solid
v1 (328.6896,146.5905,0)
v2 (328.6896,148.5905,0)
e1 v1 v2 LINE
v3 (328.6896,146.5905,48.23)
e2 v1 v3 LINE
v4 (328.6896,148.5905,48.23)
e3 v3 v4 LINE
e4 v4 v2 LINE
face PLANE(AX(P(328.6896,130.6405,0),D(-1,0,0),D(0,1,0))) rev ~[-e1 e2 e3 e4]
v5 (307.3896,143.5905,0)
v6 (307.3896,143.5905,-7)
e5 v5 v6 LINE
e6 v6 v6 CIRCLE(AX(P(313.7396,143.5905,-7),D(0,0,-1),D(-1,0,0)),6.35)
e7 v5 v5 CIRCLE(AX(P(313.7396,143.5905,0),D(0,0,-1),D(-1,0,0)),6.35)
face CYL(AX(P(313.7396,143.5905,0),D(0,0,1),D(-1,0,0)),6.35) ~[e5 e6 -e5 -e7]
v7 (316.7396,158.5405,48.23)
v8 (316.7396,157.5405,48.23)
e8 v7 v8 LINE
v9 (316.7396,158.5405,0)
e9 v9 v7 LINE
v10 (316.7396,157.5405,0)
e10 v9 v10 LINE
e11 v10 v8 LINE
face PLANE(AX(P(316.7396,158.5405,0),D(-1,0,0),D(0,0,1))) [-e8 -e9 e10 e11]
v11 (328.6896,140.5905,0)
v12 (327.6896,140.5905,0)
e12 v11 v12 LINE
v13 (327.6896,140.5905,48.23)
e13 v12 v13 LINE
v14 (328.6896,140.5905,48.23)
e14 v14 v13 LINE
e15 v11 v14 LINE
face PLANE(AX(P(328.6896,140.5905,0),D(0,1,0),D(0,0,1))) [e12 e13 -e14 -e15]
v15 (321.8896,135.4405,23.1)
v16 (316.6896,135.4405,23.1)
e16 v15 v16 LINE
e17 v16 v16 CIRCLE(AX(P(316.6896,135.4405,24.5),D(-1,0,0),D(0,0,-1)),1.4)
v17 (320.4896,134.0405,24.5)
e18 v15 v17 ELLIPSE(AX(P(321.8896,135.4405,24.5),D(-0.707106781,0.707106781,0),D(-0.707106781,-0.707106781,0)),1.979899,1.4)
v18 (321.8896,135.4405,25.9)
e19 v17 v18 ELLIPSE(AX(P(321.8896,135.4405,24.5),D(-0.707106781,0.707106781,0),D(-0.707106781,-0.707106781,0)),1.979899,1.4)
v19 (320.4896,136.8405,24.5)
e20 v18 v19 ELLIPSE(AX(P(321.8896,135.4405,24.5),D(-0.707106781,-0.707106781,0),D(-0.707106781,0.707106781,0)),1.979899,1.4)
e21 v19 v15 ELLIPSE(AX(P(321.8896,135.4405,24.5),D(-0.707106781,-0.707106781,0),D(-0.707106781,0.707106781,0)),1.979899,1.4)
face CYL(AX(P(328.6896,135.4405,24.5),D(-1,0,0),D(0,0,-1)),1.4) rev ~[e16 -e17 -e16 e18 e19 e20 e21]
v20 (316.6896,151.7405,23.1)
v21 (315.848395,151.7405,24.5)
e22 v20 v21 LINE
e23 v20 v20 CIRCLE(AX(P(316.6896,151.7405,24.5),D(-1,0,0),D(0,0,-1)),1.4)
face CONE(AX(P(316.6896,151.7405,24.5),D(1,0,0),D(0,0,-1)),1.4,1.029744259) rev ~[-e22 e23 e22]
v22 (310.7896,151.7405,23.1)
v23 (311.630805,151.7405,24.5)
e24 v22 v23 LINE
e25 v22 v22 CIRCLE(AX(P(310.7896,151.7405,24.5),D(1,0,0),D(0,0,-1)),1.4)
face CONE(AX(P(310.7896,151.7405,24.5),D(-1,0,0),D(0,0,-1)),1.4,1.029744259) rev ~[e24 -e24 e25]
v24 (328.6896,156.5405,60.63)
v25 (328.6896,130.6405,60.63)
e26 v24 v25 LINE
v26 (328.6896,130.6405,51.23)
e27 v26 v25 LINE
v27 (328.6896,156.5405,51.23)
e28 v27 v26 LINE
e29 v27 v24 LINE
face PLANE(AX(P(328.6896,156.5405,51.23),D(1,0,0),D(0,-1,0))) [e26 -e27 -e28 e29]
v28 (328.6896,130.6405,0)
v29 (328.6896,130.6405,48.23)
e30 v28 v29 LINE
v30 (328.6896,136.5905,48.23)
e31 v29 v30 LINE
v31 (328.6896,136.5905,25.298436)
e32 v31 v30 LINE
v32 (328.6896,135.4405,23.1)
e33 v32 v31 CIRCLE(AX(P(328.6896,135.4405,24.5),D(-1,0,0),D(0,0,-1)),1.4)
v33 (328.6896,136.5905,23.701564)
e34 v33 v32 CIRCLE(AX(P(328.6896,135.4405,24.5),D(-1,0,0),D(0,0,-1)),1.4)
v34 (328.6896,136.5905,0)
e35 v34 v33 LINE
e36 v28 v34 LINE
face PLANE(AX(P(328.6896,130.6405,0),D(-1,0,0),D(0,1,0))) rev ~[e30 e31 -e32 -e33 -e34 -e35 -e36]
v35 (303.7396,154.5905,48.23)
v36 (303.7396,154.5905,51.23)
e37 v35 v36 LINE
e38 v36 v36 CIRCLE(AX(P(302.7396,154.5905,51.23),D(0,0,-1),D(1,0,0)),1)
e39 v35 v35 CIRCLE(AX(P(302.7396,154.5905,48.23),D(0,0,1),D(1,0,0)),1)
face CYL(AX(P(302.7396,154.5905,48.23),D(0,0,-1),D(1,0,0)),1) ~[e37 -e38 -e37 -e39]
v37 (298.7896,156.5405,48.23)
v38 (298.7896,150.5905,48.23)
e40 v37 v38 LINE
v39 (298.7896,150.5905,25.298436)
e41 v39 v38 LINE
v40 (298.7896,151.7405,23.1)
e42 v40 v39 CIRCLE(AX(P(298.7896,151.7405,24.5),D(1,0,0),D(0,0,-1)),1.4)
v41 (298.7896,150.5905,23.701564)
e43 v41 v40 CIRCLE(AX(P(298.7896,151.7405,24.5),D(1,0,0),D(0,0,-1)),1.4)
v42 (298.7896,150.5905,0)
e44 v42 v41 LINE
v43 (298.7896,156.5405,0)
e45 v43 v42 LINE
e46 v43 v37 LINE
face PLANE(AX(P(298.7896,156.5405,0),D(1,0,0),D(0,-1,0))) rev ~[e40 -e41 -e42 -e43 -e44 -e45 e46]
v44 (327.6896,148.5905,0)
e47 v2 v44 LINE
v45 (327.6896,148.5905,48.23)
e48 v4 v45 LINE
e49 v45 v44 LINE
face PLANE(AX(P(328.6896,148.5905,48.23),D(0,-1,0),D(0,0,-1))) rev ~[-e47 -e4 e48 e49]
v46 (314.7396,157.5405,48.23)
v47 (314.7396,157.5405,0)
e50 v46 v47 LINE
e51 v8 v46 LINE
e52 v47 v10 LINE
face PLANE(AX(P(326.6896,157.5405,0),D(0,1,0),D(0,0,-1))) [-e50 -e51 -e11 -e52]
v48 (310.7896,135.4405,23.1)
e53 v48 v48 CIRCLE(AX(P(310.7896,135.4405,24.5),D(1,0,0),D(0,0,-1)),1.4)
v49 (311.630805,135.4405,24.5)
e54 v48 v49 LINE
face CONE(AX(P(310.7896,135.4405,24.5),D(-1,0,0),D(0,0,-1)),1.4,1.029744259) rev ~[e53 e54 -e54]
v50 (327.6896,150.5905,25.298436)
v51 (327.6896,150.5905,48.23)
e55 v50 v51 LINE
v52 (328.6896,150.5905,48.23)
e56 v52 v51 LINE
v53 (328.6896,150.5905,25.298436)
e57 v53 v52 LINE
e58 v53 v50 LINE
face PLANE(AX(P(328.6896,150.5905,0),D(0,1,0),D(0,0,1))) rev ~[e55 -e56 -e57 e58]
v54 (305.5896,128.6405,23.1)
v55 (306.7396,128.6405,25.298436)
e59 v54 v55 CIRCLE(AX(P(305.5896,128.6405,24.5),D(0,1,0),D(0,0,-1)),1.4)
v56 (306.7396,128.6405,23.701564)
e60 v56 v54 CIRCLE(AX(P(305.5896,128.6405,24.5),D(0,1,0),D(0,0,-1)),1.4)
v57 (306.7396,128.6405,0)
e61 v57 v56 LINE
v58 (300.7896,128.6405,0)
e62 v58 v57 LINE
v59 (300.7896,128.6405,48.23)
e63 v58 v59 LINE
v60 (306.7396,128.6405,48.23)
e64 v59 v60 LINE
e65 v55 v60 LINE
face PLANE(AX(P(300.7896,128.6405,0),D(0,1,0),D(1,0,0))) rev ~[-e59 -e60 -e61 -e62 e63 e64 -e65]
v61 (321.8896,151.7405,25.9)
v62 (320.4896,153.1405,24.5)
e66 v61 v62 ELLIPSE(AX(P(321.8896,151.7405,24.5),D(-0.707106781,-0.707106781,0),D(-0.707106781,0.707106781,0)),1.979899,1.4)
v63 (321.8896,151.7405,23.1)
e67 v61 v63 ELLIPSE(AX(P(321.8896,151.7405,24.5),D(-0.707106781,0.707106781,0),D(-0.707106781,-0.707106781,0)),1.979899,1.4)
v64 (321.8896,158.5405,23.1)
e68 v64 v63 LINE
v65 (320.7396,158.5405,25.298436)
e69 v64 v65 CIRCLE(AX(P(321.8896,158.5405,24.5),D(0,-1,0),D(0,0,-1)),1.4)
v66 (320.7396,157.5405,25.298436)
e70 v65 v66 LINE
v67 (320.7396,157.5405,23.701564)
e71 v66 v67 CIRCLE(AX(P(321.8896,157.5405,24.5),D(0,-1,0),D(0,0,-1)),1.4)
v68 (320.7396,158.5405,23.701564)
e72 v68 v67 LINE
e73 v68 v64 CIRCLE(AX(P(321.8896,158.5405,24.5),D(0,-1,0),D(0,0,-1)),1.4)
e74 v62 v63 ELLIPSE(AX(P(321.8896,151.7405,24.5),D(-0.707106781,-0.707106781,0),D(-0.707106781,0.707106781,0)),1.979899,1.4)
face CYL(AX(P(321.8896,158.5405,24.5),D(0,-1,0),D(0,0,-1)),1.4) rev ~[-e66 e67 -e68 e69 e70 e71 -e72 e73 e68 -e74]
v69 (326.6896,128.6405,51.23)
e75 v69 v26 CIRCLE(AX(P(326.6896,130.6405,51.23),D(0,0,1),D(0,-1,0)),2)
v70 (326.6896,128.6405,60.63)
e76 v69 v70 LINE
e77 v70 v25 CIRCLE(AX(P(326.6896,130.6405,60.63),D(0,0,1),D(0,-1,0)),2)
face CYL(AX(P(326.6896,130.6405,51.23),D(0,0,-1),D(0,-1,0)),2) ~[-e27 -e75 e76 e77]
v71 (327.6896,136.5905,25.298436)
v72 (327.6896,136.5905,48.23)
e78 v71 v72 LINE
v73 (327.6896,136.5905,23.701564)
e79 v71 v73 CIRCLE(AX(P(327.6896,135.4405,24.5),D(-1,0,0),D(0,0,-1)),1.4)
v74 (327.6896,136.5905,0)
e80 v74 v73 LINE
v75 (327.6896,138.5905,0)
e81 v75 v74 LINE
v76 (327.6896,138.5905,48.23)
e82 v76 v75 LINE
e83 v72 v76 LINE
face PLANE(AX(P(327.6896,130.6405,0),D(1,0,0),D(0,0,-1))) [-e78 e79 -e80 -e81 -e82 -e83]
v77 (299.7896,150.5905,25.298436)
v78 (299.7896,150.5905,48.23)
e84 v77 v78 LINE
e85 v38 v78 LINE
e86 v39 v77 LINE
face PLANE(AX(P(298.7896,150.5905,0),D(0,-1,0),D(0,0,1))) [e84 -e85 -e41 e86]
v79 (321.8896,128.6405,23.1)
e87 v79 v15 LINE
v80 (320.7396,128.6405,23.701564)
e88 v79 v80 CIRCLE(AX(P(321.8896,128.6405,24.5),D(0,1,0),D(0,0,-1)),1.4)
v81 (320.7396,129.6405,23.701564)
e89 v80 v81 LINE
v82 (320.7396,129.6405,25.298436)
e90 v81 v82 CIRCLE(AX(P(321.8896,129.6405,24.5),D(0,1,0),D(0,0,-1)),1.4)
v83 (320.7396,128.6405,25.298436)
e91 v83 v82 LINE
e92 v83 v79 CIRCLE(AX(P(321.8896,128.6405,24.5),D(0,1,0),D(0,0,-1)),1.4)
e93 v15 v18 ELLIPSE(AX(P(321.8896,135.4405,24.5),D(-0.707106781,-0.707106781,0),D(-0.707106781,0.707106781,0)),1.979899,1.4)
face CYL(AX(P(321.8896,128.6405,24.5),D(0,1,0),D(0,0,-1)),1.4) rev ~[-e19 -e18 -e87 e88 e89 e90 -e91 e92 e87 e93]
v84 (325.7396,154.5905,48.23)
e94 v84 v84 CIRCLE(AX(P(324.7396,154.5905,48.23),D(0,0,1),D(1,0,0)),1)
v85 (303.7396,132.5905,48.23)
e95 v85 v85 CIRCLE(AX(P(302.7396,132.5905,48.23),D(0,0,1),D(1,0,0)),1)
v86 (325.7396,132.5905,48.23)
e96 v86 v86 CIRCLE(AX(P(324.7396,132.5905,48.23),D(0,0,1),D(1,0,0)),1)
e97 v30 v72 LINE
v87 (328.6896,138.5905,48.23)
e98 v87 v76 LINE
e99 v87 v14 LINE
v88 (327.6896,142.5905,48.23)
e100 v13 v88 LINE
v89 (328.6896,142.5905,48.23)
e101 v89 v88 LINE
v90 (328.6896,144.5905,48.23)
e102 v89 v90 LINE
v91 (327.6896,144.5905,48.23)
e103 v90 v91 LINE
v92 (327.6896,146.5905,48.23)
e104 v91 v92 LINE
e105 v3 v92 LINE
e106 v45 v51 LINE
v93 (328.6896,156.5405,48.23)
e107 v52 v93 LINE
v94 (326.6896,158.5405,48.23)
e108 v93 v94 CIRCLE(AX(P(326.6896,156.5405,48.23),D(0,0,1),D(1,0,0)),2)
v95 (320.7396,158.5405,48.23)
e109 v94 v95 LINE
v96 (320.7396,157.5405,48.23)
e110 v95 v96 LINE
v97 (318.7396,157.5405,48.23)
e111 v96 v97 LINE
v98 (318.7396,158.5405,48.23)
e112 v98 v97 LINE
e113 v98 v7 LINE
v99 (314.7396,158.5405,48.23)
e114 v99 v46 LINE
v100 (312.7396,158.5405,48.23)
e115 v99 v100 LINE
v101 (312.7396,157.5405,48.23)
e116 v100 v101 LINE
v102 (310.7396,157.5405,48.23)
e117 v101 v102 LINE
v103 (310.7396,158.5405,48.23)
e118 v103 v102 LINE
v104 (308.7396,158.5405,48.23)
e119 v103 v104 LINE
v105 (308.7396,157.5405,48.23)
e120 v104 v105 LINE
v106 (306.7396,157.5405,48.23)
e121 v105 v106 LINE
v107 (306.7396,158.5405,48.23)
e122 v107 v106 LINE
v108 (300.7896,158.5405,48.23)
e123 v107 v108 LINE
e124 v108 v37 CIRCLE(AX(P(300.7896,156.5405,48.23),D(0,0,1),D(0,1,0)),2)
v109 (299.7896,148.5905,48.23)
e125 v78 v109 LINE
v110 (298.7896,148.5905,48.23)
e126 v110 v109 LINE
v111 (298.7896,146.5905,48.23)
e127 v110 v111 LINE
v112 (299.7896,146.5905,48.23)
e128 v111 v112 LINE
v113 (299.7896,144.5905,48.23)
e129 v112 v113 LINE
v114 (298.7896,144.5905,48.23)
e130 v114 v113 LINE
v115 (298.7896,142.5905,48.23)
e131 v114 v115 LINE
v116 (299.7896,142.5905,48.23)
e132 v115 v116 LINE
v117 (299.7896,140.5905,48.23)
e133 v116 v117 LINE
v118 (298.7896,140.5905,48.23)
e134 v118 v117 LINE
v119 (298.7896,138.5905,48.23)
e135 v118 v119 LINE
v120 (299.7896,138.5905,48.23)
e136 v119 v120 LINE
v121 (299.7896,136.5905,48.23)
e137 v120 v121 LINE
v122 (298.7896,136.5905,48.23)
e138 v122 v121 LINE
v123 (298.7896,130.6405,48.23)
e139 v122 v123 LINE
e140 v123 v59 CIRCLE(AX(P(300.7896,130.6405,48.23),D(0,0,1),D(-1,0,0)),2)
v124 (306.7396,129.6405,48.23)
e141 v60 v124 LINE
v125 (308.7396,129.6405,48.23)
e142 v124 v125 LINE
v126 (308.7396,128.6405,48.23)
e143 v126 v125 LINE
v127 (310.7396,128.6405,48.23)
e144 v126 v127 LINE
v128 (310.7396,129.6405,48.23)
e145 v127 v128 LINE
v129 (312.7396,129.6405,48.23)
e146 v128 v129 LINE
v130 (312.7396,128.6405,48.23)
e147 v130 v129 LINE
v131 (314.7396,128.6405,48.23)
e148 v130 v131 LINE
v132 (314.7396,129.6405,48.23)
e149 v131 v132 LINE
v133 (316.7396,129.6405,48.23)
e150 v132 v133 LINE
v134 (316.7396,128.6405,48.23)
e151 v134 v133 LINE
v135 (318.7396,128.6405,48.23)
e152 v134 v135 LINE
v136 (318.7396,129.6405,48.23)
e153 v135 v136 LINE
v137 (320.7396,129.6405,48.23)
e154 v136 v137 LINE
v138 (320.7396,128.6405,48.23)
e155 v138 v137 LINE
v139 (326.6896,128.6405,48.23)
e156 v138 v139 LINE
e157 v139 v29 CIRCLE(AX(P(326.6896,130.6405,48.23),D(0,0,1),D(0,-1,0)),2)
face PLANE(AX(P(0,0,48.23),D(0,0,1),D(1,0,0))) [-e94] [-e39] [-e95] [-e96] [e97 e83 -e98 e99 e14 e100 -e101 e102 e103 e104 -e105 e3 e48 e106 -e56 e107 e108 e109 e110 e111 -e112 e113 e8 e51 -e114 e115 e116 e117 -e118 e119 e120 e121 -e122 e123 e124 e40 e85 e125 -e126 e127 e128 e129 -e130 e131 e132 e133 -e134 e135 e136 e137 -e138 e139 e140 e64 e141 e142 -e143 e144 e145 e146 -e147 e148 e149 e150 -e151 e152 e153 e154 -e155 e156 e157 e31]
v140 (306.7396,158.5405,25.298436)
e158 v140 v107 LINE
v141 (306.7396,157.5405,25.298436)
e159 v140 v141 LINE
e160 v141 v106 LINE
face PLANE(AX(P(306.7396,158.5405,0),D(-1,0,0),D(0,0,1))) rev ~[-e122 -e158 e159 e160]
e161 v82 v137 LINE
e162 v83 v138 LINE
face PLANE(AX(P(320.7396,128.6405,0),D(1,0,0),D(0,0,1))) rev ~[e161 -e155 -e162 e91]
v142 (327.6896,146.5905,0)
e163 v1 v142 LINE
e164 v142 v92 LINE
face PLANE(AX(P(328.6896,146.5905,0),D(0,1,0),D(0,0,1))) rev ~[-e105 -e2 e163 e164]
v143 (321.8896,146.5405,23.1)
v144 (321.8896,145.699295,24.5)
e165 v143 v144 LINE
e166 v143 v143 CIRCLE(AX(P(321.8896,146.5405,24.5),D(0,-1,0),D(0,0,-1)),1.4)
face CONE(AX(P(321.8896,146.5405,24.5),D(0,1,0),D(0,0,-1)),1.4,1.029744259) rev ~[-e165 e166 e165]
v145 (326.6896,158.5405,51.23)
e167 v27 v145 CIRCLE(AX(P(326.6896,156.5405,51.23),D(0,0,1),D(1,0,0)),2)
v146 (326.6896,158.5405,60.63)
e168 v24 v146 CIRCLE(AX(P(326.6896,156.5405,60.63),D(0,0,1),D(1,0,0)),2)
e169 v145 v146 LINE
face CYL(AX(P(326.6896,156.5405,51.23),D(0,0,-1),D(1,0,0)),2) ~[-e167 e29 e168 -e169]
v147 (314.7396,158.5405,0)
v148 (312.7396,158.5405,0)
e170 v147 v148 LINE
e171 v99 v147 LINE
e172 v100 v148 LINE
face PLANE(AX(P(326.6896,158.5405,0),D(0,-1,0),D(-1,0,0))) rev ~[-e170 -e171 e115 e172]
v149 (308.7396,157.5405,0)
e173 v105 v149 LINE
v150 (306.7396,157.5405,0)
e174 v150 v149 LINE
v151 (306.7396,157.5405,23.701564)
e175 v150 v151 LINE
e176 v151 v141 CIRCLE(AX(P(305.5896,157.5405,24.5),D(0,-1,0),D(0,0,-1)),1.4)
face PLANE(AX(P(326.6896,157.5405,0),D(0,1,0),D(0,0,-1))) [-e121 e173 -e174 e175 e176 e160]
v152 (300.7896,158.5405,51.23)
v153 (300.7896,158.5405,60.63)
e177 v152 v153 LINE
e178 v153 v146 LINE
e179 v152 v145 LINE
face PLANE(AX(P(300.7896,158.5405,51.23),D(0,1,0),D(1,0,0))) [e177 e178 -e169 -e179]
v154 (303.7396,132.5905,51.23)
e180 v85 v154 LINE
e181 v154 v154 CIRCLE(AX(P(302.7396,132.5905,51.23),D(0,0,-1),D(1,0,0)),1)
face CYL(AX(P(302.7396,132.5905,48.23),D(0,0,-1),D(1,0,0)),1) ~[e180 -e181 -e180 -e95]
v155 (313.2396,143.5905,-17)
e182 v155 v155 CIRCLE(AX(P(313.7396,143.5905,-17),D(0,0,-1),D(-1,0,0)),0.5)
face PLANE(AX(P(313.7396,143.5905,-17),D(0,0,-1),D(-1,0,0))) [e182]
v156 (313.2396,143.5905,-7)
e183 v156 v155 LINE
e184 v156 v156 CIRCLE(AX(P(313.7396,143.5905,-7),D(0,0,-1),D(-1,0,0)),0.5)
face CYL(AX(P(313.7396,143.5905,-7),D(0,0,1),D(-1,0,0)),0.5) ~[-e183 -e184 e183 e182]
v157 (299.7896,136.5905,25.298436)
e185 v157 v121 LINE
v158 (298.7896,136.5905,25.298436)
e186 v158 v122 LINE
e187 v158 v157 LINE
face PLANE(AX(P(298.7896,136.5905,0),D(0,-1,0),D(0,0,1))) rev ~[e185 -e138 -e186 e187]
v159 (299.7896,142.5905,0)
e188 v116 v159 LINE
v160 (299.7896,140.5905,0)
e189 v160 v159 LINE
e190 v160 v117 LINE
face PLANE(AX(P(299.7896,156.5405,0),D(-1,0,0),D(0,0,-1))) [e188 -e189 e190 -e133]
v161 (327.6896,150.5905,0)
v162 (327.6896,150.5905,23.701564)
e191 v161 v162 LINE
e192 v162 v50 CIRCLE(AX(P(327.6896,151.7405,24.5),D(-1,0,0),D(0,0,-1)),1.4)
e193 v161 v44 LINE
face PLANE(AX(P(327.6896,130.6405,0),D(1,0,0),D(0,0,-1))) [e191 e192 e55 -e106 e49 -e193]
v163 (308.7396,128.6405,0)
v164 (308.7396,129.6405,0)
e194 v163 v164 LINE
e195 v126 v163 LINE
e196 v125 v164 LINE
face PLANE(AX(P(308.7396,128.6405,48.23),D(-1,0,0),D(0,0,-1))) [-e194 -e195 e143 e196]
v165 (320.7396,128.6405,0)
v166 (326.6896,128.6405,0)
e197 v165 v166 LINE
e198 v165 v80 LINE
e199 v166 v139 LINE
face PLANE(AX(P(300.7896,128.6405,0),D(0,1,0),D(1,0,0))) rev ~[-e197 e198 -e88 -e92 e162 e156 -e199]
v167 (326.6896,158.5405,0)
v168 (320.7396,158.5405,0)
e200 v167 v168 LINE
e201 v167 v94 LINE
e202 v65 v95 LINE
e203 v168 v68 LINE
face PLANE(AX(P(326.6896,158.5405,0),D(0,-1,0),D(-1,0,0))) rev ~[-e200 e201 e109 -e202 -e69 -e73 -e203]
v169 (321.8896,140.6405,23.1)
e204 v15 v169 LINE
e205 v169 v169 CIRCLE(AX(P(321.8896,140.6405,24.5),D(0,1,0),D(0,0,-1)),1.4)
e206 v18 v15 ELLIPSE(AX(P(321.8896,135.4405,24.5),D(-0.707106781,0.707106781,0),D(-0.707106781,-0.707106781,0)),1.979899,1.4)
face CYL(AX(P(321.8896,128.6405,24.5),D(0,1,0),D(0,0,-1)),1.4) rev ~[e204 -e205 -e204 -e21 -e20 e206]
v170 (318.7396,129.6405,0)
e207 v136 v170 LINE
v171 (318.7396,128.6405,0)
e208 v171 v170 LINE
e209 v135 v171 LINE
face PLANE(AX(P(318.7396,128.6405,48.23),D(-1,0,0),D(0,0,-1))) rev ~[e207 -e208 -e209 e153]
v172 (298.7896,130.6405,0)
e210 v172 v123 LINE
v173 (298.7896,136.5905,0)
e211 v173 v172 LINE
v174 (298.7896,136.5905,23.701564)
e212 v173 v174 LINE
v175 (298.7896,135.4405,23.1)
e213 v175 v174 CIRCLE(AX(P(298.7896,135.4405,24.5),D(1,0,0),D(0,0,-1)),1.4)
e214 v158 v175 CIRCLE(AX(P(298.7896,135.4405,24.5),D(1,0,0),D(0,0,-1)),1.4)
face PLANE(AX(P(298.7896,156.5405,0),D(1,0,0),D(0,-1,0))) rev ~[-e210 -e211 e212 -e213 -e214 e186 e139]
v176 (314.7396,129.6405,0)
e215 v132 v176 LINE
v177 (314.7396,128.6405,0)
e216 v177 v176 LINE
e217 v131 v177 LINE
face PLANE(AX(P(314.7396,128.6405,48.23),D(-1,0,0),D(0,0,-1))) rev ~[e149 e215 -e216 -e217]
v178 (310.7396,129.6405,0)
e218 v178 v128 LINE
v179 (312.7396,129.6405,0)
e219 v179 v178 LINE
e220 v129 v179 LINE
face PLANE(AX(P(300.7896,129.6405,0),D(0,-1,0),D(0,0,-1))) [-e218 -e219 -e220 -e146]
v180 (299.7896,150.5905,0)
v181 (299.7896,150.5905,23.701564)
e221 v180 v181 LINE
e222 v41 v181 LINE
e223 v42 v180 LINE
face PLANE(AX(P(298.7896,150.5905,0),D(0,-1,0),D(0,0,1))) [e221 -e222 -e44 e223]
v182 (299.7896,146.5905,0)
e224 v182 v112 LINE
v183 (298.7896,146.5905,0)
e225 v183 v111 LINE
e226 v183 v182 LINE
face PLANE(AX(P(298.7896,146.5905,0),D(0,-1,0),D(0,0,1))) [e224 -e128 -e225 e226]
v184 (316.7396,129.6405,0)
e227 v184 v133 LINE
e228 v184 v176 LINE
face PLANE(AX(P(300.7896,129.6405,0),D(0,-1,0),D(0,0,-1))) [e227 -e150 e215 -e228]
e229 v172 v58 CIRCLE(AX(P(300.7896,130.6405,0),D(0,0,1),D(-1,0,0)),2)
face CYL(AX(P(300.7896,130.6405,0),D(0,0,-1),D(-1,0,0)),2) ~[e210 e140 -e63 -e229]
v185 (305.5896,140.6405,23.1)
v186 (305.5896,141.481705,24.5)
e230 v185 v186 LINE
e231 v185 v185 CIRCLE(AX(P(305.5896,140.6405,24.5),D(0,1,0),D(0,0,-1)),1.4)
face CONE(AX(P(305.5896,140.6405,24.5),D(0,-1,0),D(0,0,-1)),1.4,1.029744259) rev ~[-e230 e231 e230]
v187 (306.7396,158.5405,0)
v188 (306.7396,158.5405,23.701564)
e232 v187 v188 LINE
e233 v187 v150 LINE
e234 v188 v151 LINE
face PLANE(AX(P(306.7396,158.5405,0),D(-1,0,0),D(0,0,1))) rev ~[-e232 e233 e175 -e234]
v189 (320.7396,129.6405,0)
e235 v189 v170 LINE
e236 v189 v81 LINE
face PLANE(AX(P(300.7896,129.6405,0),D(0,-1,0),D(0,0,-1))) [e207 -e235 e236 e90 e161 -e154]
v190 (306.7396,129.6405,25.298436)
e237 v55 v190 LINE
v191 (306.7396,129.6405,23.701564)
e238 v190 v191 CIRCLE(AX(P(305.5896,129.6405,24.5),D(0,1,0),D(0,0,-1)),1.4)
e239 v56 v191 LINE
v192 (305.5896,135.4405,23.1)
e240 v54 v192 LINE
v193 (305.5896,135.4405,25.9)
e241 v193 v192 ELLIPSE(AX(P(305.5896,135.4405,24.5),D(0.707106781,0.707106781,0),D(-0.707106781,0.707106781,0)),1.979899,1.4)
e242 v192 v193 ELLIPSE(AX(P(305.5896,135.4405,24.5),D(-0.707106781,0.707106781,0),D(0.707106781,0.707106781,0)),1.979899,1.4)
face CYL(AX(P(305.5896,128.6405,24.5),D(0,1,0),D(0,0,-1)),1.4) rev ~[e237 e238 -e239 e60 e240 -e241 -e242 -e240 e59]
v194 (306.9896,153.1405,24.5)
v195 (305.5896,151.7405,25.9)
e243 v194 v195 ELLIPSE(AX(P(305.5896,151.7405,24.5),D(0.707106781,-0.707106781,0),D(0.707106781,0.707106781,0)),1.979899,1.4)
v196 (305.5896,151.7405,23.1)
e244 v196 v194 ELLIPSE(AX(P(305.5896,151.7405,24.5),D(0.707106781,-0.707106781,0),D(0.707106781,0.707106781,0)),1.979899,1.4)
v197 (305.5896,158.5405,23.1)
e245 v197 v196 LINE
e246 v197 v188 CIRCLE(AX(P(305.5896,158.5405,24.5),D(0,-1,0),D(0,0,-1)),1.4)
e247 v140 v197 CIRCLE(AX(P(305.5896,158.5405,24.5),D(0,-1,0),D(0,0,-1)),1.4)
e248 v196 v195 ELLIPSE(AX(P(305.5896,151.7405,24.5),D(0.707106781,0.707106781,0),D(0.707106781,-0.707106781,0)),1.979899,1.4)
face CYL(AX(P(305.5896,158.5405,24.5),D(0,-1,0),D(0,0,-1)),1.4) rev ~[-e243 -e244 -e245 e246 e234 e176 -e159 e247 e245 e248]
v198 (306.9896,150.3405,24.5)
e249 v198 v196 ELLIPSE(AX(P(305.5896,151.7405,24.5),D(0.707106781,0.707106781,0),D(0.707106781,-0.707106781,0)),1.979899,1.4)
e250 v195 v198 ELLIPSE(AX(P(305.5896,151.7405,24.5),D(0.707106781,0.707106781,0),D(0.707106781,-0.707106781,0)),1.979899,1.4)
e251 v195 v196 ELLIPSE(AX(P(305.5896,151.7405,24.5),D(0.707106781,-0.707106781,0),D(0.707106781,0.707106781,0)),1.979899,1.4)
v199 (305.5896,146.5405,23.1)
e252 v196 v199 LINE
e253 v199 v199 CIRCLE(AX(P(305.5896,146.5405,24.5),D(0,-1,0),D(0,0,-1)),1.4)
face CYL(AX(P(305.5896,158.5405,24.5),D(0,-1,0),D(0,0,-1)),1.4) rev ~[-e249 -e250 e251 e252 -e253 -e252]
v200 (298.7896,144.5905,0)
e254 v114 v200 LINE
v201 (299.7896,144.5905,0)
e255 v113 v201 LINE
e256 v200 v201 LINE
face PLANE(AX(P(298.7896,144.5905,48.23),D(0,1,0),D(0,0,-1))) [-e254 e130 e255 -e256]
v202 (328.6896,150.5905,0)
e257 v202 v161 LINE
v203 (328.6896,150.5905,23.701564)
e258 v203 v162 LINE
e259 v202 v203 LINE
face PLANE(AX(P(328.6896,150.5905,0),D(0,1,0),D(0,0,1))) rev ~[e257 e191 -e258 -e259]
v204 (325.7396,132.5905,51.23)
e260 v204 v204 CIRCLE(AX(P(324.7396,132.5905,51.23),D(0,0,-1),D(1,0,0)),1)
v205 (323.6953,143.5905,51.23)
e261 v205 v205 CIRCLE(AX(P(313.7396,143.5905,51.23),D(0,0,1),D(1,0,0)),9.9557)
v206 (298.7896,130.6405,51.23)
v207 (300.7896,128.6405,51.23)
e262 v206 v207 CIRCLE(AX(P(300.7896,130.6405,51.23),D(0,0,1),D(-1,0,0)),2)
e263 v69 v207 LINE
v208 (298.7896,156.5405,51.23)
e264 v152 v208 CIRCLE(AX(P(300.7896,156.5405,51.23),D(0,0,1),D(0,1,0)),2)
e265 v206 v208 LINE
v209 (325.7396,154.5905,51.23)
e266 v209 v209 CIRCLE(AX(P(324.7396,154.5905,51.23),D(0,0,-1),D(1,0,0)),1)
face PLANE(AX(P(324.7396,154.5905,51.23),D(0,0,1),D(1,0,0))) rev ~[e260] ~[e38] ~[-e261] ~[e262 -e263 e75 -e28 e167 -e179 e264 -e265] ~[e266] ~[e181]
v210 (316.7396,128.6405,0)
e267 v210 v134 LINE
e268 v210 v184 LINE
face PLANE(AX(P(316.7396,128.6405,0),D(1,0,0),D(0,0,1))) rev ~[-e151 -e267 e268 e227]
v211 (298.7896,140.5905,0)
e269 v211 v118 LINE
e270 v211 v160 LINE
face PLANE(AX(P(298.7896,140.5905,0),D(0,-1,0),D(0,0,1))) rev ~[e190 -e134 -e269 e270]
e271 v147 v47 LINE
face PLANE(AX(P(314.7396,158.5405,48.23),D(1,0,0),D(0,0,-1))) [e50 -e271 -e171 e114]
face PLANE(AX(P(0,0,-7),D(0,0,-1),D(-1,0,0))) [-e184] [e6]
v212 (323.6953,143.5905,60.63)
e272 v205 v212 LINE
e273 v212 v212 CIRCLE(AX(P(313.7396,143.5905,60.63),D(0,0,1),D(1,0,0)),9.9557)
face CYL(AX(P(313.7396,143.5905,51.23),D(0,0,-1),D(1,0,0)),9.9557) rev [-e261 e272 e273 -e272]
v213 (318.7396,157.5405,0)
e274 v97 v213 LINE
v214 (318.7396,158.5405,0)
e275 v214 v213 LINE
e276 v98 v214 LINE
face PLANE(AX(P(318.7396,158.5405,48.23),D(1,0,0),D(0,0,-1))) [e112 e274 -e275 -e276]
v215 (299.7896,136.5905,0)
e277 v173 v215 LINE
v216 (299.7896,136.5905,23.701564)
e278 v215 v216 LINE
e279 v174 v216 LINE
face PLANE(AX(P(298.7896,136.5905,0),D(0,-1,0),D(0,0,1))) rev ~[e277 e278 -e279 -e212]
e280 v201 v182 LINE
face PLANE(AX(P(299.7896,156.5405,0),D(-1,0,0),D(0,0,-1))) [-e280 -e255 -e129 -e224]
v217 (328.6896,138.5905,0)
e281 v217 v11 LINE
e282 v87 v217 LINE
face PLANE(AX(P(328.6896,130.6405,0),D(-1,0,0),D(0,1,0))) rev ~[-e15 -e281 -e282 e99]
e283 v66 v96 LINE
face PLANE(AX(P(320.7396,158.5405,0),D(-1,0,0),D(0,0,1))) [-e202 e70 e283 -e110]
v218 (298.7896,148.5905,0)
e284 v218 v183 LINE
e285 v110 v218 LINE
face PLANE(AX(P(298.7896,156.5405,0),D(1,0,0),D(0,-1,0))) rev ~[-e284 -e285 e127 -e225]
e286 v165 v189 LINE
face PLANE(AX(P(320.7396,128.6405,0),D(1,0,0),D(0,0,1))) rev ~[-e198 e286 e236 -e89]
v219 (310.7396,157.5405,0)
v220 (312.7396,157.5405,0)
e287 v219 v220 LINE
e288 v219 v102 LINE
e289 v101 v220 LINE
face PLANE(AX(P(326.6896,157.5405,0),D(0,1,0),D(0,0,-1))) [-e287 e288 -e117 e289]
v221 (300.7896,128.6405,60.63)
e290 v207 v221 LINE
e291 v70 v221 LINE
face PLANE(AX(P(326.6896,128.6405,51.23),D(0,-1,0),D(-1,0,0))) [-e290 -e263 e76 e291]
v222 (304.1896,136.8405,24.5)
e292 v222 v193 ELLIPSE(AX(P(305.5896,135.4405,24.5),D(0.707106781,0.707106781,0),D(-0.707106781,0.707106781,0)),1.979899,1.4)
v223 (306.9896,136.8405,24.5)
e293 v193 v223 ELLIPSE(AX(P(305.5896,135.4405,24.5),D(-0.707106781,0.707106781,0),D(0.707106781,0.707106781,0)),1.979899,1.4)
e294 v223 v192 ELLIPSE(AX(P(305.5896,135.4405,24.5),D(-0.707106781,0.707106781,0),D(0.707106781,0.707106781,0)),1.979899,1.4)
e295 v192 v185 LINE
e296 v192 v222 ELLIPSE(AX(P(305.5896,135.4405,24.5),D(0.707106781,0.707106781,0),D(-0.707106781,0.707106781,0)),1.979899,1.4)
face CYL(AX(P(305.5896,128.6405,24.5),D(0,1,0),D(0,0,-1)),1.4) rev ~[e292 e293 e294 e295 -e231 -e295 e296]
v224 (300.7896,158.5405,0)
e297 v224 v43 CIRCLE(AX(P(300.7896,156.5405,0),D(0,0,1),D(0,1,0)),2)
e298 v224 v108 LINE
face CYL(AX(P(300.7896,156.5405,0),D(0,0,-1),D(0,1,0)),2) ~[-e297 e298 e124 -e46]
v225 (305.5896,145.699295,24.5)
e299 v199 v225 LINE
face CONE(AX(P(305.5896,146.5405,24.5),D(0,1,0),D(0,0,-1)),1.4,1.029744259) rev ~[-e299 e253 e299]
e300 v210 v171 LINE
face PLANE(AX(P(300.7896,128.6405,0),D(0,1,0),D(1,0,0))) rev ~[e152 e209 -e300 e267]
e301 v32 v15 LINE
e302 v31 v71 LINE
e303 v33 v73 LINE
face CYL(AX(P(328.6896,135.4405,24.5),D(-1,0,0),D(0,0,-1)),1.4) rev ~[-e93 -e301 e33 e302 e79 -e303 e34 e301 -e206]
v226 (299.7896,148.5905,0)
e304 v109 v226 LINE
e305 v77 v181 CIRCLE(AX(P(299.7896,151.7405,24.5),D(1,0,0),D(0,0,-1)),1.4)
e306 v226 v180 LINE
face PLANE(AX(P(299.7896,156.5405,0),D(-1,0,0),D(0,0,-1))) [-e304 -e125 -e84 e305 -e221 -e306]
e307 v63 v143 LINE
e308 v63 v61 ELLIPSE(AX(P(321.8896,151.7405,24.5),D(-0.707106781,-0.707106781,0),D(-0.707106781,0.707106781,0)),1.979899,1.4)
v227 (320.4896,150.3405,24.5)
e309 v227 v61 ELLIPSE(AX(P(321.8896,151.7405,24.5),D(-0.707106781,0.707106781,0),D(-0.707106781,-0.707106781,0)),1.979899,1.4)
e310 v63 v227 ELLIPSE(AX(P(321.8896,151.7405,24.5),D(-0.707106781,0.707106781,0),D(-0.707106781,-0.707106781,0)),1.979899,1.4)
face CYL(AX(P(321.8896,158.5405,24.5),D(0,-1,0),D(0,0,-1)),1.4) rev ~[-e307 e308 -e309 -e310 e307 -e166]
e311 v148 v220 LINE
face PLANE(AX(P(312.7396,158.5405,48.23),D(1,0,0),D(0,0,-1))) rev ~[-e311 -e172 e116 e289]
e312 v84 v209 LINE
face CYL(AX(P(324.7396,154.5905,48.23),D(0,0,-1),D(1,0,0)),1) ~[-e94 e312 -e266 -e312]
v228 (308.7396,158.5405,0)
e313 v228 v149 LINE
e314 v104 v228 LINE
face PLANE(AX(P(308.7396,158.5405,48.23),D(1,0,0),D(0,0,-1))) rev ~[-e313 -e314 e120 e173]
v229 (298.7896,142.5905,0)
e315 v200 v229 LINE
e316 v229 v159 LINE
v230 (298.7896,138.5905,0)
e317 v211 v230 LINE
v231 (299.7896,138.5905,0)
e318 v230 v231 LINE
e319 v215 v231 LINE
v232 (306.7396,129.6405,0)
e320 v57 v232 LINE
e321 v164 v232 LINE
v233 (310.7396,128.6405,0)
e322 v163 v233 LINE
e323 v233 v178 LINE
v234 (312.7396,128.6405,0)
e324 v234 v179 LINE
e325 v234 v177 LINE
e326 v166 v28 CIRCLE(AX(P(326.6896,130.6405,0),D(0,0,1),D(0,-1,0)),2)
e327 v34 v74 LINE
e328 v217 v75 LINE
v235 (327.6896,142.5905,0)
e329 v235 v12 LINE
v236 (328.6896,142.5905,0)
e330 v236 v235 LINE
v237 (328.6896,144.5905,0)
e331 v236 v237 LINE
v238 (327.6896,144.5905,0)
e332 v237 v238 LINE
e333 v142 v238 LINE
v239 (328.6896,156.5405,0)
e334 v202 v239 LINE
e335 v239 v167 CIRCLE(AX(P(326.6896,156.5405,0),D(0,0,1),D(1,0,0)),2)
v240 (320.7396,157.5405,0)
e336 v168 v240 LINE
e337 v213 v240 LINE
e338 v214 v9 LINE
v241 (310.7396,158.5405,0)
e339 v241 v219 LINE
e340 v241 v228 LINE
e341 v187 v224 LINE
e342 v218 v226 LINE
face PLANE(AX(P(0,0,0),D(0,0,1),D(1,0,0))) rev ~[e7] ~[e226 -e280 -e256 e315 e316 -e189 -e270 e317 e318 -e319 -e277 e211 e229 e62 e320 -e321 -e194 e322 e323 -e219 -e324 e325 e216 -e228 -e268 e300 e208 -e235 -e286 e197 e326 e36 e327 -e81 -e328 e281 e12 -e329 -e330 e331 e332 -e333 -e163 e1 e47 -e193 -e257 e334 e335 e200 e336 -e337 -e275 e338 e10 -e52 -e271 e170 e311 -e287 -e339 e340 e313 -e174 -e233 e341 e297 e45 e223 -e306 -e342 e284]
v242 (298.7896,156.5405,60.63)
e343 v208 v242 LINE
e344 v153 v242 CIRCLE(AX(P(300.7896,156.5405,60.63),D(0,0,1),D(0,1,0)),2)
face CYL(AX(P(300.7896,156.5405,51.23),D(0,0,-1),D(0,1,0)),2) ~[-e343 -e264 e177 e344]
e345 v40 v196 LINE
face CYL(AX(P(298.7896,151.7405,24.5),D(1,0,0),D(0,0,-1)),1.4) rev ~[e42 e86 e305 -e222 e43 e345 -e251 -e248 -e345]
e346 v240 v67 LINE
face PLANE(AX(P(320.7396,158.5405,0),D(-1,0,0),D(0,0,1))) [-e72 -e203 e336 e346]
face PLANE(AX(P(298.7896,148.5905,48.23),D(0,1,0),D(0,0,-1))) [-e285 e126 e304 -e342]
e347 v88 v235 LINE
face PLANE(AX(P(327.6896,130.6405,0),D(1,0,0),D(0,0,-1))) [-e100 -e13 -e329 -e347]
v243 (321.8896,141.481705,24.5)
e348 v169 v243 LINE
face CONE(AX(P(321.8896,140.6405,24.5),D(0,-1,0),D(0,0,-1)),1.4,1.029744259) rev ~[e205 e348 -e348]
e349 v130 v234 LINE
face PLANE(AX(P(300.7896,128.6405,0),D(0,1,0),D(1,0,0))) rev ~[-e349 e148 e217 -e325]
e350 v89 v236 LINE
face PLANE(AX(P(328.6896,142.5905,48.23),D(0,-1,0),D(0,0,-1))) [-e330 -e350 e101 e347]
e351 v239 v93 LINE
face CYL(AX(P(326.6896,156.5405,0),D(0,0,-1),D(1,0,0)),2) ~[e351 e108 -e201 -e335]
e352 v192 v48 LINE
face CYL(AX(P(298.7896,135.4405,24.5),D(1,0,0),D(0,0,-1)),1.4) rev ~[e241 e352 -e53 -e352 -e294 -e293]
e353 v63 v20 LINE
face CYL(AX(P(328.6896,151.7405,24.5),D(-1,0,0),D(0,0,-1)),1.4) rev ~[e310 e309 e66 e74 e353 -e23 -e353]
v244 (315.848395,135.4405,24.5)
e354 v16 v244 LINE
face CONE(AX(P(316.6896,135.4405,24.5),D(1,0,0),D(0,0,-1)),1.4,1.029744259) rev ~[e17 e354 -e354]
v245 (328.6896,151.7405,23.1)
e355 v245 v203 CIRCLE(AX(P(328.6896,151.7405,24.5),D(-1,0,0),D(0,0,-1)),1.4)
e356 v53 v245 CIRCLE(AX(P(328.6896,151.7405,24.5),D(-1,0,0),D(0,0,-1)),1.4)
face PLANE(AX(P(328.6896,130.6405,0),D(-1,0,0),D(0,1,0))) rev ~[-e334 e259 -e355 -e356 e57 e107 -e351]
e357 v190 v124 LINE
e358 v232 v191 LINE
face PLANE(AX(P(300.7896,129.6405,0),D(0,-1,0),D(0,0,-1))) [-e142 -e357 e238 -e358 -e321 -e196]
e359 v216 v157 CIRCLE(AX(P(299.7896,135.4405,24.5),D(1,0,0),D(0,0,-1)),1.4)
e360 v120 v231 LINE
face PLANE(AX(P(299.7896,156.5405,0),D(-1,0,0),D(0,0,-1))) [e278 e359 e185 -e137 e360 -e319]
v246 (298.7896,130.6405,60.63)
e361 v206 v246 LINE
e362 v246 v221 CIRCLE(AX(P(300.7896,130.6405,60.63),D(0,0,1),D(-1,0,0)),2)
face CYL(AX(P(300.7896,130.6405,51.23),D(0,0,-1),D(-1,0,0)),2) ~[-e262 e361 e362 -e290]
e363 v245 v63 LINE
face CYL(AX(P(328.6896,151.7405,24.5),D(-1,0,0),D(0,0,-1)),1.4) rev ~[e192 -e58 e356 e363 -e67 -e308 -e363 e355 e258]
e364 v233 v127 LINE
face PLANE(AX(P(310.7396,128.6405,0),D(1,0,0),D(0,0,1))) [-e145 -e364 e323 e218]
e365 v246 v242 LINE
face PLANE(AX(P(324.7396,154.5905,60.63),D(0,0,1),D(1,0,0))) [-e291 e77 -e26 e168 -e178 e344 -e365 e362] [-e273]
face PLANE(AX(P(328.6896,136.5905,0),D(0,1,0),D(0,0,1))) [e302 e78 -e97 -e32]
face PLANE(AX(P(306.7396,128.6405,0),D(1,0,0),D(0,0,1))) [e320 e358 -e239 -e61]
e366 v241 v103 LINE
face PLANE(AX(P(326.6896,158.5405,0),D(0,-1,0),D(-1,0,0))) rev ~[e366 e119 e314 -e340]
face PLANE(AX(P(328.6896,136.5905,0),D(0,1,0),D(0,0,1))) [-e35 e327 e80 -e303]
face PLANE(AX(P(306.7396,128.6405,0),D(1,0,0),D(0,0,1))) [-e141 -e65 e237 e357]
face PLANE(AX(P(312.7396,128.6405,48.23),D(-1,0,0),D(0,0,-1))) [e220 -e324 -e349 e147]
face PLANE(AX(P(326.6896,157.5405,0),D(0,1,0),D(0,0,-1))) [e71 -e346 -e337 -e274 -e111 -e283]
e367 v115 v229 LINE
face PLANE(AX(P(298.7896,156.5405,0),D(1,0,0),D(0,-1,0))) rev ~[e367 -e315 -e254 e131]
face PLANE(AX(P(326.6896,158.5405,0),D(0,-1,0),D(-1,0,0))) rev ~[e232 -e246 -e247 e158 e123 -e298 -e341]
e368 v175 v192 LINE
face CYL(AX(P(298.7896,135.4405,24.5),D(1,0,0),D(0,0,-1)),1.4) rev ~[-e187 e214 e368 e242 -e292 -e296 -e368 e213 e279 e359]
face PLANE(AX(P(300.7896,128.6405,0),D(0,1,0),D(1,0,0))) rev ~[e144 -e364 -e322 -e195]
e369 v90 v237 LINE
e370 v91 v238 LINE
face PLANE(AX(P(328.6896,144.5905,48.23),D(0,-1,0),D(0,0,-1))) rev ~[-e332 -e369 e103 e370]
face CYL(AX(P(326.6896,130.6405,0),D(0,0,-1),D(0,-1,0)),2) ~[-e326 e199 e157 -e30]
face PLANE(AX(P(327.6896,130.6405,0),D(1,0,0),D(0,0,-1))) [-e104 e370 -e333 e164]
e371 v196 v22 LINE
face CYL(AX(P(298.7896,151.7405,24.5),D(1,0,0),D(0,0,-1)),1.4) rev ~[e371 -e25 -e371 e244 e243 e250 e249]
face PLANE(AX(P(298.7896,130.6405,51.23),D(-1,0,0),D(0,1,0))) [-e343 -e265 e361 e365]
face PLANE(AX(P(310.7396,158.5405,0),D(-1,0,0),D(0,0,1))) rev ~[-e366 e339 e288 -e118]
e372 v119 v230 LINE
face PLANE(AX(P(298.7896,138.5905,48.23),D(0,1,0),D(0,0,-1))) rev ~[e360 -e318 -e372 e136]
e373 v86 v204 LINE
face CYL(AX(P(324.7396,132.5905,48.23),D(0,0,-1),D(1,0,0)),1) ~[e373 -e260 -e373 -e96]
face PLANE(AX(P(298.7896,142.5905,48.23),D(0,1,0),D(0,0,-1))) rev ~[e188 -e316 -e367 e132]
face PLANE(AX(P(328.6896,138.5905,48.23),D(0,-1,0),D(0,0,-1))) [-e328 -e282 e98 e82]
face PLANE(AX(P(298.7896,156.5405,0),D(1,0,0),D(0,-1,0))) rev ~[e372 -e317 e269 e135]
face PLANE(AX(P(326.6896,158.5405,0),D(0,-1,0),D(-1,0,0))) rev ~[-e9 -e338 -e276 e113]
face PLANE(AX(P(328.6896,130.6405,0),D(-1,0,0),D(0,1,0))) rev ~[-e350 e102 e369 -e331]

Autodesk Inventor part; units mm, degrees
ref_plane "YZ Plane" through (0, 0, 0) normal (1, 0, 0) x (0, 1, 0)
ref_plane "XZ Plane" through (0, 0, 0) normal (0, 1, 0) x (-1, 0, 0)
ref_plane "XY Plane" through (0, 0, 0) normal (0, 0, 1) x (1, 0, 0)
sketch "Sketch1" plane through (0, 0, 0) normal (0, 0, 1) x (1, 0, 0)
  line L0 (326.6896, 158.5405) -> (300.7896, 158.5405)
  line L1 (298.7896, 156.5405) -> (298.7896, 130.6405)
  line L2 (300.7896, 128.6405) -> (326.6896, 128.6405)
  line L3 (328.6896, 130.6405) -> (328.6896, 156.5405)
  arc A0 (328.6896, 156.5405) -> (326.6896, 158.5405) centre (326.6896, 156.5405) ccw
  arc A1 (298.7896, 130.6405) -> (300.7896, 128.6405) centre (300.7896, 130.6405) ccw
  arc A2 (300.7896, 158.5405) -> (298.7896, 156.5405) centre (300.7896, 156.5405) ccw
  arc A3 (326.6896, 128.6405) -> (328.6896, 130.6405) centre (326.6896, 130.6405) ccw
  point P0 (0, 0)
  point P1 (298.7896, 128.6405)
  point P2 (298.7896, 158.5405)
  point P3 (328.6896, 128.6405)
  dimension "d0" = 29.9
  dimension "d1" = 29.9
  dimension "d2" = 2
extrude "Extrusion1" add sketch "Sketch1" along normal blind 48.23
sketch "Sketch2" plane through (0, 0, 0) normal (0, 0, -1) x (-1, 0, 0)
  line L0 (-328.6896, 156.5405) -> (-328.6896, 130.6405) projected
  arc A0 (-328.6896, 130.6405) -> (-326.6896, 128.6405) centre (-326.6896, 130.6405) ccw projected
  line L1 (-326.6896, 128.6405) -> (-300.7896, 128.6405) projected
  arc A1 (-300.7896, 128.6405) -> (-298.7896, 130.6405) centre (-300.7896, 130.6405) ccw projected
  line L2 (-298.7896, 130.6405) -> (-298.7896, 156.5405) projected
  arc A2 (-298.7896, 156.5405) -> (-300.7896, 158.5405) centre (-300.7896, 156.5405) ccw projected
  line L3 (-300.7896, 158.5405) -> (-326.6896, 158.5405) projected
  arc A3 (-326.6896, 158.5405) -> (-328.6896, 156.5405) centre (-326.6896, 156.5405) ccw projected
  circle A4 centre (-313.7396, 143.5905) radius 6.35
  point P0 (0, 0)
  dimension "d5" = 12.7
extrude "Extrusion2" add sketch "Sketch2" along normal blind 7 contours A4
sketch "Sketch3" plane through (328.6896, 130.6405, 0) normal (1, 0, 0) x (0, 0, -1)
  line L0 (0, 25.9) -> (0, 0) projected
  line L1 (0, 25.9) -> (-48.23, 25.9) projected
  line L2 (-48.23, 0) -> (-48.23, 25.9) projected
  line L3 (0, 0) -> (-48.23, 0) projected
  line L4 (7, 6.6) -> (7, 19.3) projected
  line L5 (7, 12.95) -> (-48.23, 12.95)
  line L6 (-48.23, 0) -> (-48.23, 25.9) projected
  line L7 (0, 25.9) -> (0, 0) projected
  line L8 (-48.23, 13.95) -> (0, 13.95)
  line L9 (0, 13.95) -> (0, 15.95)
  line L10 (0, 15.95) -> (-48.23, 15.95)
  line L11 (-48.23, 15.95) -> (-48.23, 13.95)
  line L12 (-48.23, 17.95) -> (0, 17.95)
  line L13 (0, 17.95) -> (0, 19.95)
  line L14 (0, 19.95) -> (-48.23, 19.95)
  line L15 (-48.23, 19.95) -> (-48.23, 17.95)
  line L16 (-48.23, 11.95) -> (0, 11.95)
  line L17 (0, 11.95) -> (0, 9.95)
  line L18 (0, 9.95) -> (-48.23, 9.95)
  line L19 (-48.23, 9.95) -> (-48.23, 11.95)
  line L20 (-48.23, 7.95) -> (0, 7.95)
  line L21 (0, 7.95) -> (0, 5.95)
  line L22 (0, 5.95) -> (-48.23, 5.95)
  line L23 (-48.23, 5.95) -> (-48.23, 7.95)
  point P0 (0, -130.6405)
  point P1 (0, 6.95)
  point P2 (0, 10.95)
  dimension "d8" = 2
  dimension "d9" = 1
  dimension "d10" = 2
  dimension "d11" = 2
  dimension "d12" = 2
  dimension "d13" = 1
  dimension "d14" = 2
  dimension "d15" = 2
extrude "Extrusion3" cut sketch "Sketch3" against normal blind 1 contours L0 L12 L2 L14 | L0 L8 L2 L10 | L0 L18 L2 L16 | L0 L22 L2 L20
pattern_circular "Circular Pattern1" count 4 over 360 about axis through (313.7396, 143.5905, 0) along (0, 0, -1) of "Extrusion3"
sketch "Sketch4" plane through (328.6896, 130.6405, 48.23) normal (1, 0, 0) x (0, 0, -1)
  line L0 (0, 19.95) -> (48.23, 19.95) projected
  line L1 (48.23, 25.9) -> (48.23, 19.95) projected
  line L2 (48.23, 25.9) -> (0, 25.9) projected
  line L3 (0, 19.95) -> (0, 25.9) projected
  line L4 (48.23, 5.95) -> (0, 5.95) projected
  line L5 (0, 0) -> (0, 5.95) projected
  line L6 (48.23, 0) -> (0, 0) projected
  line L7 (48.23, 5.95) -> (48.23, 0) projected
  line L8 (48.23, 27.9) -> (0, 27.9) projected
  line L9 (48.23, -2) -> (0, -2) projected
  point P0 (48.23, -130.6405)
  point P1 (23.73, 21.1)
  point P2 (23.73, 4.8)
  dimension "d21" = 24.5
  dimension "d22" = 24.5
  dimension "d23" = 6.8
  dimension "d24" = 6.8
hole "Hole1" at (328.6896, 135.4405, 24.5) at (328.6896, 151.7405, 24.5) direction (-1, 0, 0) diameter 2.8 depth 12 tip angle 118
sketch "Sketch5" plane through (0, 0, 48.23) normal (0, 0, 1) x (1, 0, 0)
  circle A0 centre (313.7396, 143.5905) radius 6.35 projected
  line L0 (302.7396, 132.5905) -> (324.7396, 132.5905)
  line L1 (324.7396, 132.5905) -> (324.7396, 154.5905)
  line L2 (324.7396, 154.5905) -> (302.7396, 154.5905)
  line L3 (302.7396, 154.5905) -> (302.7396, 132.5905)
  line L4 (302.7396, 132.5905) -> (324.7396, 154.5905) construction
  line L5 (324.7396, 132.5905) -> (302.7396, 154.5905) construction
  circle A1 centre (324.7396, 154.5905) radius 1
  circle A2 centre (324.7396, 132.5905) radius 1
  circle A3 centre (302.7396, 132.5905) radius 1
  circle A4 centre (302.7396, 154.5905) radius 1
  point P0 (0, 0)
  dimension "d32" = 22
  dimension "d33" = 22
  dimension "d34" = 2
  dimension "d35" = 2
  dimension "d36" = 2
  dimension "d37" = 2
extrude "Extrusion4" add sketch "Sketch5" along normal blind 3 contours L3 A3 L0 | L0 A3 L3 | A2 L1 L0 | L0 L1 A2 | A4 L2 L3 | L3 L2 A4 | A1 L2 L1 | L1 L2 A1
sketch "Sketch6" plane through (324.7396, 154.5905, 51.23) normal (0, 0, 1) x (1, 0, 0)
  circle A0 centre (-22, 0) radius 1 construction
  circle A1 centre (0, -22) radius 1 construction
  circle A2 centre (0, 0) radius 1 construction
  circle A3 centre (-22, -22) radius 1 construction
  line L0 (-12, 3.95) -> (-12, 2.95) construction
  line L1 (-12, 2.95) -> (-14, 2.95) construction
  line L2 (-14, 2.95) -> (-14, 3.95) construction
  line L3 (-14, 3.95) -> (-16, 3.95) construction
  line L4 (-16, 3.95) -> (-16, 2.95) construction
  line L5 (-16, 2.95) -> (-18, 2.95) construction
  line L6 (-18, 2.95) -> (-18, 3.95) construction
  line L7 (-18, 3.95) -> (-23.95, 3.95) construction
  arc A4 (-23.95, 3.95) -> (-25.95, 1.95) centre (-23.95, 1.95) ccw construction
  line L8 (-25.95, 1.95) -> (-25.95, -4) construction
  line L9 (-25.95, -4) -> (-24.95, -4) construction
  line L10 (-24.95, -4) -> (-24.95, -6) construction
  line L11 (-24.95, -6) -> (-25.95, -6) construction
  line L12 (-25.95, -6) -> (-25.95, -8) construction
  line L13 (-25.95, -8) -> (-24.95, -8) construction
  line L14 (-24.95, -8) -> (-24.95, -10) construction
  line L15 (-24.95, -10) -> (-25.95, -10) construction
  line L16 (-25.95, -10) -> (-25.95, -12) construction
  line L17 (-25.95, -12) -> (-24.95, -12) construction
  line L18 (-24.95, -12) -> (-24.95, -14) construction
  line L19 (-24.95, -14) -> (-25.95, -14) construction
  line L20 (-25.95, -14) -> (-25.95, -16) construction
  line L21 (-25.95, -16) -> (-24.95, -16) construction
  line L22 (-24.95, -16) -> (-24.95, -18) construction
  line L23 (-24.95, -18) -> (-25.95, -18) construction
  line L24 (-25.95, -18) -> (-25.95, -23.95) construction
  arc A5 (-25.95, -23.95) -> (-23.95, -25.95) centre (-23.95, -23.95) ccw construction
  line L25 (-23.95, -25.95) -> (-18, -25.95) construction
  line L26 (-18, -25.95) -> (-18, -24.95) construction
  line L27 (-18, -24.95) -> (-16, -24.95) construction
  line L28 (-16, -24.95) -> (-16, -25.95) construction
  line L29 (-16, -25.95) -> (-14, -25.95) construction
  line L30 (-14, -25.95) -> (-14, -24.95) construction
  line L31 (-14, -24.95) -> (-12, -24.95) construction
  line L32 (-12, -24.95) -> (-12, -25.95) construction
  line L33 (-12, -25.95) -> (-10, -25.95) construction
  line L34 (-10, -25.95) -> (-10, -24.95) construction
  line L35 (-10, -24.95) -> (-8, -24.95) construction
  line L36 (-8, -24.95) -> (-8, -25.95) construction
  line L37 (-8, -25.95) -> (-6, -25.95) construction
  line L38 (-6, -25.95) -> (-6, -24.95) construction
  line L39 (-6, -24.95) -> (-4, -24.95) construction
  line L40 (-4, -24.95) -> (-4, -25.95) construction
  line L41 (-4, -25.95) -> (1.95, -25.95) construction
  arc A6 (1.95, -25.95) -> (3.95, -23.95) centre (1.95, -23.95) ccw construction
  line L42 (3.95, -23.95) -> (3.95, -18) construction
  line L43 (3.95, -18) -> (2.95, -18) construction
  line L44 (2.95, -18) -> (2.95, -16) construction
  line L45 (2.95, -16) -> (3.95, -16) construction
  line L46 (3.95, -16) -> (3.95, -14) construction
  line L47 (3.95, -14) -> (2.95, -14) construction
  line L48 (2.95, -14) -> (2.95, -12) construction
  line L49 (2.95, -12) -> (3.95, -12) construction
  line L50 (3.95, -12) -> (3.95, -10) construction
  line L51 (3.95, -10) -> (2.95, -10) construction
  line L52 (2.95, -10) -> (2.95, -8) construction
  line L53 (2.95, -8) -> (3.95, -8) construction
  line L54 (3.95, -8) -> (3.95, -6) construction
  line L55 (3.95, -6) -> (2.95, -6) construction
  line L56 (2.95, -6) -> (2.95, -4) construction
  line L57 (2.95, -4) -> (3.95, -4) construction
  line L58 (3.95, -4) -> (3.95, 1.95) construction
  arc A7 (3.95, 1.95) -> (1.95, 3.95) centre (1.95, 1.95) ccw construction
  line L59 (1.95, 3.95) -> (-4, 3.95) construction
  line L60 (-4, 3.95) -> (-4, 2.95) construction
  line L61 (-4, 2.95) -> (-6, 2.95) construction
  line L62 (-6, 2.95) -> (-6, 3.95) construction
  line L63 (-6, 3.95) -> (-8, 3.95) construction
  line L64 (-8, 3.95) -> (-8, 2.95) construction
  line L65 (-8, 2.95) -> (-10, 2.95) construction
  line L66 (-10, 2.95) -> (-10, 3.95) construction
  line L67 (-10, 3.95) -> (-12, 3.95) construction
  line L68 (-23.95, 3.95) -> (1.95, 3.95)
  line L69 (3.95, 1.95) -> (3.95, -23.95)
  line L70 (1.95, -25.95) -> (-23.95, -25.95)
  line L71 (-25.95, -23.95) -> (-25.95, 1.95)
  arc A8 (-23.95, 3.95) -> (-25.95, 1.95) centre (-23.95, 1.95) ccw
  arc A9 (3.95, 1.95) -> (1.95, 3.95) centre (1.95, 1.95) ccw
  arc A10 (1.95, -25.95) -> (3.95, -23.95) centre (1.95, -23.95) ccw
  arc A11 (-25.95, -23.95) -> (-23.95, -25.95) centre (-23.95, -23.95) ccw
  circle A12 centre (-11, -11) radius 9.9557
  point P0 (-324.7396, -154.5905)
  dimension "d40" = 2
extrude "Extrusion5" add sketch "Sketch6" along normal blind 9.4
ref_plane "Work Plane1" through (326.6896, 126.1405, 0) normal (0, -1, 0) x (1, 0, 0)
ref_plane "Work Plane2" through (326.6896, 143.5905, 48.23) normal (0, 1, 0) x (1, 0, 0)
ref_plane "Work Plane3" through (313.7396, 156.5405, 48.23) normal (1, 0, 0) x (0, 0, -1)
sketch "Sketch8" plane through (313.7396, 143.5905, -7) normal (0, 0, -1) x (-1, 0, 0)
  circle A0 centre (0, 0) radius 6.35 projected
  circle A1 centre (0, 0) radius 6.35 projected
  circle A2 centre (0, 0) radius 0.5
  point P0 (313.7396, -143.5905)
  dimension "d46" = 1
extrude "Extrusion7" add sketch "Sketch8" along normal blind 10 contours A2
pattern_circular "Circular Pattern2" count 4 over 360 about axis through (313.7396, 143.5905, 0) along (0, 0, -1) of "Hole1"
ref_plane "Work Plane4" through (280.0146, 184.3442, -59.8557) normal (0, 0.4305, 0.9026) x (0, 0.9026, -0.4305)
sketch "Sketch9" plane through (280.0146, 184.3442, -59.8557) normal (0, 0.4305, 0.9026) x (0, 0.9026, -0.4305)
  arc A0 (-30.7028, -21.1512) -> (-30.7028, -46.2569) centre (-20.7819, -33.704) ccw projected
  arc A1 (-10.8609, -46.2569) -> (-10.8609, -21.1512) centre (-20.7819, -33.704) ccw projected
  circle A2 centre (-20.7819, -33.704) radius 0.521
  line L0 (-59.5386, -34.225) -> (-55.2335, -34.225) projected
  line L1 (0.271, -16.8756) -> (5.1683, -16.8756)
  line L2 (5.1683, -16.8756) -> (5.1683, -18.1812)
  line L3 (5.1683, -18.1812) -> (0.271, -18.1812)
  line L4 (0.271, -18.1812) -> (0.271, -16.8756)
  point P0 (-192.1549, 280.0146)
extrude "Extrusion8" cut sketch "Sketch9" along normal blind 10
properties part number "00_Laser_532nm_200mw"
